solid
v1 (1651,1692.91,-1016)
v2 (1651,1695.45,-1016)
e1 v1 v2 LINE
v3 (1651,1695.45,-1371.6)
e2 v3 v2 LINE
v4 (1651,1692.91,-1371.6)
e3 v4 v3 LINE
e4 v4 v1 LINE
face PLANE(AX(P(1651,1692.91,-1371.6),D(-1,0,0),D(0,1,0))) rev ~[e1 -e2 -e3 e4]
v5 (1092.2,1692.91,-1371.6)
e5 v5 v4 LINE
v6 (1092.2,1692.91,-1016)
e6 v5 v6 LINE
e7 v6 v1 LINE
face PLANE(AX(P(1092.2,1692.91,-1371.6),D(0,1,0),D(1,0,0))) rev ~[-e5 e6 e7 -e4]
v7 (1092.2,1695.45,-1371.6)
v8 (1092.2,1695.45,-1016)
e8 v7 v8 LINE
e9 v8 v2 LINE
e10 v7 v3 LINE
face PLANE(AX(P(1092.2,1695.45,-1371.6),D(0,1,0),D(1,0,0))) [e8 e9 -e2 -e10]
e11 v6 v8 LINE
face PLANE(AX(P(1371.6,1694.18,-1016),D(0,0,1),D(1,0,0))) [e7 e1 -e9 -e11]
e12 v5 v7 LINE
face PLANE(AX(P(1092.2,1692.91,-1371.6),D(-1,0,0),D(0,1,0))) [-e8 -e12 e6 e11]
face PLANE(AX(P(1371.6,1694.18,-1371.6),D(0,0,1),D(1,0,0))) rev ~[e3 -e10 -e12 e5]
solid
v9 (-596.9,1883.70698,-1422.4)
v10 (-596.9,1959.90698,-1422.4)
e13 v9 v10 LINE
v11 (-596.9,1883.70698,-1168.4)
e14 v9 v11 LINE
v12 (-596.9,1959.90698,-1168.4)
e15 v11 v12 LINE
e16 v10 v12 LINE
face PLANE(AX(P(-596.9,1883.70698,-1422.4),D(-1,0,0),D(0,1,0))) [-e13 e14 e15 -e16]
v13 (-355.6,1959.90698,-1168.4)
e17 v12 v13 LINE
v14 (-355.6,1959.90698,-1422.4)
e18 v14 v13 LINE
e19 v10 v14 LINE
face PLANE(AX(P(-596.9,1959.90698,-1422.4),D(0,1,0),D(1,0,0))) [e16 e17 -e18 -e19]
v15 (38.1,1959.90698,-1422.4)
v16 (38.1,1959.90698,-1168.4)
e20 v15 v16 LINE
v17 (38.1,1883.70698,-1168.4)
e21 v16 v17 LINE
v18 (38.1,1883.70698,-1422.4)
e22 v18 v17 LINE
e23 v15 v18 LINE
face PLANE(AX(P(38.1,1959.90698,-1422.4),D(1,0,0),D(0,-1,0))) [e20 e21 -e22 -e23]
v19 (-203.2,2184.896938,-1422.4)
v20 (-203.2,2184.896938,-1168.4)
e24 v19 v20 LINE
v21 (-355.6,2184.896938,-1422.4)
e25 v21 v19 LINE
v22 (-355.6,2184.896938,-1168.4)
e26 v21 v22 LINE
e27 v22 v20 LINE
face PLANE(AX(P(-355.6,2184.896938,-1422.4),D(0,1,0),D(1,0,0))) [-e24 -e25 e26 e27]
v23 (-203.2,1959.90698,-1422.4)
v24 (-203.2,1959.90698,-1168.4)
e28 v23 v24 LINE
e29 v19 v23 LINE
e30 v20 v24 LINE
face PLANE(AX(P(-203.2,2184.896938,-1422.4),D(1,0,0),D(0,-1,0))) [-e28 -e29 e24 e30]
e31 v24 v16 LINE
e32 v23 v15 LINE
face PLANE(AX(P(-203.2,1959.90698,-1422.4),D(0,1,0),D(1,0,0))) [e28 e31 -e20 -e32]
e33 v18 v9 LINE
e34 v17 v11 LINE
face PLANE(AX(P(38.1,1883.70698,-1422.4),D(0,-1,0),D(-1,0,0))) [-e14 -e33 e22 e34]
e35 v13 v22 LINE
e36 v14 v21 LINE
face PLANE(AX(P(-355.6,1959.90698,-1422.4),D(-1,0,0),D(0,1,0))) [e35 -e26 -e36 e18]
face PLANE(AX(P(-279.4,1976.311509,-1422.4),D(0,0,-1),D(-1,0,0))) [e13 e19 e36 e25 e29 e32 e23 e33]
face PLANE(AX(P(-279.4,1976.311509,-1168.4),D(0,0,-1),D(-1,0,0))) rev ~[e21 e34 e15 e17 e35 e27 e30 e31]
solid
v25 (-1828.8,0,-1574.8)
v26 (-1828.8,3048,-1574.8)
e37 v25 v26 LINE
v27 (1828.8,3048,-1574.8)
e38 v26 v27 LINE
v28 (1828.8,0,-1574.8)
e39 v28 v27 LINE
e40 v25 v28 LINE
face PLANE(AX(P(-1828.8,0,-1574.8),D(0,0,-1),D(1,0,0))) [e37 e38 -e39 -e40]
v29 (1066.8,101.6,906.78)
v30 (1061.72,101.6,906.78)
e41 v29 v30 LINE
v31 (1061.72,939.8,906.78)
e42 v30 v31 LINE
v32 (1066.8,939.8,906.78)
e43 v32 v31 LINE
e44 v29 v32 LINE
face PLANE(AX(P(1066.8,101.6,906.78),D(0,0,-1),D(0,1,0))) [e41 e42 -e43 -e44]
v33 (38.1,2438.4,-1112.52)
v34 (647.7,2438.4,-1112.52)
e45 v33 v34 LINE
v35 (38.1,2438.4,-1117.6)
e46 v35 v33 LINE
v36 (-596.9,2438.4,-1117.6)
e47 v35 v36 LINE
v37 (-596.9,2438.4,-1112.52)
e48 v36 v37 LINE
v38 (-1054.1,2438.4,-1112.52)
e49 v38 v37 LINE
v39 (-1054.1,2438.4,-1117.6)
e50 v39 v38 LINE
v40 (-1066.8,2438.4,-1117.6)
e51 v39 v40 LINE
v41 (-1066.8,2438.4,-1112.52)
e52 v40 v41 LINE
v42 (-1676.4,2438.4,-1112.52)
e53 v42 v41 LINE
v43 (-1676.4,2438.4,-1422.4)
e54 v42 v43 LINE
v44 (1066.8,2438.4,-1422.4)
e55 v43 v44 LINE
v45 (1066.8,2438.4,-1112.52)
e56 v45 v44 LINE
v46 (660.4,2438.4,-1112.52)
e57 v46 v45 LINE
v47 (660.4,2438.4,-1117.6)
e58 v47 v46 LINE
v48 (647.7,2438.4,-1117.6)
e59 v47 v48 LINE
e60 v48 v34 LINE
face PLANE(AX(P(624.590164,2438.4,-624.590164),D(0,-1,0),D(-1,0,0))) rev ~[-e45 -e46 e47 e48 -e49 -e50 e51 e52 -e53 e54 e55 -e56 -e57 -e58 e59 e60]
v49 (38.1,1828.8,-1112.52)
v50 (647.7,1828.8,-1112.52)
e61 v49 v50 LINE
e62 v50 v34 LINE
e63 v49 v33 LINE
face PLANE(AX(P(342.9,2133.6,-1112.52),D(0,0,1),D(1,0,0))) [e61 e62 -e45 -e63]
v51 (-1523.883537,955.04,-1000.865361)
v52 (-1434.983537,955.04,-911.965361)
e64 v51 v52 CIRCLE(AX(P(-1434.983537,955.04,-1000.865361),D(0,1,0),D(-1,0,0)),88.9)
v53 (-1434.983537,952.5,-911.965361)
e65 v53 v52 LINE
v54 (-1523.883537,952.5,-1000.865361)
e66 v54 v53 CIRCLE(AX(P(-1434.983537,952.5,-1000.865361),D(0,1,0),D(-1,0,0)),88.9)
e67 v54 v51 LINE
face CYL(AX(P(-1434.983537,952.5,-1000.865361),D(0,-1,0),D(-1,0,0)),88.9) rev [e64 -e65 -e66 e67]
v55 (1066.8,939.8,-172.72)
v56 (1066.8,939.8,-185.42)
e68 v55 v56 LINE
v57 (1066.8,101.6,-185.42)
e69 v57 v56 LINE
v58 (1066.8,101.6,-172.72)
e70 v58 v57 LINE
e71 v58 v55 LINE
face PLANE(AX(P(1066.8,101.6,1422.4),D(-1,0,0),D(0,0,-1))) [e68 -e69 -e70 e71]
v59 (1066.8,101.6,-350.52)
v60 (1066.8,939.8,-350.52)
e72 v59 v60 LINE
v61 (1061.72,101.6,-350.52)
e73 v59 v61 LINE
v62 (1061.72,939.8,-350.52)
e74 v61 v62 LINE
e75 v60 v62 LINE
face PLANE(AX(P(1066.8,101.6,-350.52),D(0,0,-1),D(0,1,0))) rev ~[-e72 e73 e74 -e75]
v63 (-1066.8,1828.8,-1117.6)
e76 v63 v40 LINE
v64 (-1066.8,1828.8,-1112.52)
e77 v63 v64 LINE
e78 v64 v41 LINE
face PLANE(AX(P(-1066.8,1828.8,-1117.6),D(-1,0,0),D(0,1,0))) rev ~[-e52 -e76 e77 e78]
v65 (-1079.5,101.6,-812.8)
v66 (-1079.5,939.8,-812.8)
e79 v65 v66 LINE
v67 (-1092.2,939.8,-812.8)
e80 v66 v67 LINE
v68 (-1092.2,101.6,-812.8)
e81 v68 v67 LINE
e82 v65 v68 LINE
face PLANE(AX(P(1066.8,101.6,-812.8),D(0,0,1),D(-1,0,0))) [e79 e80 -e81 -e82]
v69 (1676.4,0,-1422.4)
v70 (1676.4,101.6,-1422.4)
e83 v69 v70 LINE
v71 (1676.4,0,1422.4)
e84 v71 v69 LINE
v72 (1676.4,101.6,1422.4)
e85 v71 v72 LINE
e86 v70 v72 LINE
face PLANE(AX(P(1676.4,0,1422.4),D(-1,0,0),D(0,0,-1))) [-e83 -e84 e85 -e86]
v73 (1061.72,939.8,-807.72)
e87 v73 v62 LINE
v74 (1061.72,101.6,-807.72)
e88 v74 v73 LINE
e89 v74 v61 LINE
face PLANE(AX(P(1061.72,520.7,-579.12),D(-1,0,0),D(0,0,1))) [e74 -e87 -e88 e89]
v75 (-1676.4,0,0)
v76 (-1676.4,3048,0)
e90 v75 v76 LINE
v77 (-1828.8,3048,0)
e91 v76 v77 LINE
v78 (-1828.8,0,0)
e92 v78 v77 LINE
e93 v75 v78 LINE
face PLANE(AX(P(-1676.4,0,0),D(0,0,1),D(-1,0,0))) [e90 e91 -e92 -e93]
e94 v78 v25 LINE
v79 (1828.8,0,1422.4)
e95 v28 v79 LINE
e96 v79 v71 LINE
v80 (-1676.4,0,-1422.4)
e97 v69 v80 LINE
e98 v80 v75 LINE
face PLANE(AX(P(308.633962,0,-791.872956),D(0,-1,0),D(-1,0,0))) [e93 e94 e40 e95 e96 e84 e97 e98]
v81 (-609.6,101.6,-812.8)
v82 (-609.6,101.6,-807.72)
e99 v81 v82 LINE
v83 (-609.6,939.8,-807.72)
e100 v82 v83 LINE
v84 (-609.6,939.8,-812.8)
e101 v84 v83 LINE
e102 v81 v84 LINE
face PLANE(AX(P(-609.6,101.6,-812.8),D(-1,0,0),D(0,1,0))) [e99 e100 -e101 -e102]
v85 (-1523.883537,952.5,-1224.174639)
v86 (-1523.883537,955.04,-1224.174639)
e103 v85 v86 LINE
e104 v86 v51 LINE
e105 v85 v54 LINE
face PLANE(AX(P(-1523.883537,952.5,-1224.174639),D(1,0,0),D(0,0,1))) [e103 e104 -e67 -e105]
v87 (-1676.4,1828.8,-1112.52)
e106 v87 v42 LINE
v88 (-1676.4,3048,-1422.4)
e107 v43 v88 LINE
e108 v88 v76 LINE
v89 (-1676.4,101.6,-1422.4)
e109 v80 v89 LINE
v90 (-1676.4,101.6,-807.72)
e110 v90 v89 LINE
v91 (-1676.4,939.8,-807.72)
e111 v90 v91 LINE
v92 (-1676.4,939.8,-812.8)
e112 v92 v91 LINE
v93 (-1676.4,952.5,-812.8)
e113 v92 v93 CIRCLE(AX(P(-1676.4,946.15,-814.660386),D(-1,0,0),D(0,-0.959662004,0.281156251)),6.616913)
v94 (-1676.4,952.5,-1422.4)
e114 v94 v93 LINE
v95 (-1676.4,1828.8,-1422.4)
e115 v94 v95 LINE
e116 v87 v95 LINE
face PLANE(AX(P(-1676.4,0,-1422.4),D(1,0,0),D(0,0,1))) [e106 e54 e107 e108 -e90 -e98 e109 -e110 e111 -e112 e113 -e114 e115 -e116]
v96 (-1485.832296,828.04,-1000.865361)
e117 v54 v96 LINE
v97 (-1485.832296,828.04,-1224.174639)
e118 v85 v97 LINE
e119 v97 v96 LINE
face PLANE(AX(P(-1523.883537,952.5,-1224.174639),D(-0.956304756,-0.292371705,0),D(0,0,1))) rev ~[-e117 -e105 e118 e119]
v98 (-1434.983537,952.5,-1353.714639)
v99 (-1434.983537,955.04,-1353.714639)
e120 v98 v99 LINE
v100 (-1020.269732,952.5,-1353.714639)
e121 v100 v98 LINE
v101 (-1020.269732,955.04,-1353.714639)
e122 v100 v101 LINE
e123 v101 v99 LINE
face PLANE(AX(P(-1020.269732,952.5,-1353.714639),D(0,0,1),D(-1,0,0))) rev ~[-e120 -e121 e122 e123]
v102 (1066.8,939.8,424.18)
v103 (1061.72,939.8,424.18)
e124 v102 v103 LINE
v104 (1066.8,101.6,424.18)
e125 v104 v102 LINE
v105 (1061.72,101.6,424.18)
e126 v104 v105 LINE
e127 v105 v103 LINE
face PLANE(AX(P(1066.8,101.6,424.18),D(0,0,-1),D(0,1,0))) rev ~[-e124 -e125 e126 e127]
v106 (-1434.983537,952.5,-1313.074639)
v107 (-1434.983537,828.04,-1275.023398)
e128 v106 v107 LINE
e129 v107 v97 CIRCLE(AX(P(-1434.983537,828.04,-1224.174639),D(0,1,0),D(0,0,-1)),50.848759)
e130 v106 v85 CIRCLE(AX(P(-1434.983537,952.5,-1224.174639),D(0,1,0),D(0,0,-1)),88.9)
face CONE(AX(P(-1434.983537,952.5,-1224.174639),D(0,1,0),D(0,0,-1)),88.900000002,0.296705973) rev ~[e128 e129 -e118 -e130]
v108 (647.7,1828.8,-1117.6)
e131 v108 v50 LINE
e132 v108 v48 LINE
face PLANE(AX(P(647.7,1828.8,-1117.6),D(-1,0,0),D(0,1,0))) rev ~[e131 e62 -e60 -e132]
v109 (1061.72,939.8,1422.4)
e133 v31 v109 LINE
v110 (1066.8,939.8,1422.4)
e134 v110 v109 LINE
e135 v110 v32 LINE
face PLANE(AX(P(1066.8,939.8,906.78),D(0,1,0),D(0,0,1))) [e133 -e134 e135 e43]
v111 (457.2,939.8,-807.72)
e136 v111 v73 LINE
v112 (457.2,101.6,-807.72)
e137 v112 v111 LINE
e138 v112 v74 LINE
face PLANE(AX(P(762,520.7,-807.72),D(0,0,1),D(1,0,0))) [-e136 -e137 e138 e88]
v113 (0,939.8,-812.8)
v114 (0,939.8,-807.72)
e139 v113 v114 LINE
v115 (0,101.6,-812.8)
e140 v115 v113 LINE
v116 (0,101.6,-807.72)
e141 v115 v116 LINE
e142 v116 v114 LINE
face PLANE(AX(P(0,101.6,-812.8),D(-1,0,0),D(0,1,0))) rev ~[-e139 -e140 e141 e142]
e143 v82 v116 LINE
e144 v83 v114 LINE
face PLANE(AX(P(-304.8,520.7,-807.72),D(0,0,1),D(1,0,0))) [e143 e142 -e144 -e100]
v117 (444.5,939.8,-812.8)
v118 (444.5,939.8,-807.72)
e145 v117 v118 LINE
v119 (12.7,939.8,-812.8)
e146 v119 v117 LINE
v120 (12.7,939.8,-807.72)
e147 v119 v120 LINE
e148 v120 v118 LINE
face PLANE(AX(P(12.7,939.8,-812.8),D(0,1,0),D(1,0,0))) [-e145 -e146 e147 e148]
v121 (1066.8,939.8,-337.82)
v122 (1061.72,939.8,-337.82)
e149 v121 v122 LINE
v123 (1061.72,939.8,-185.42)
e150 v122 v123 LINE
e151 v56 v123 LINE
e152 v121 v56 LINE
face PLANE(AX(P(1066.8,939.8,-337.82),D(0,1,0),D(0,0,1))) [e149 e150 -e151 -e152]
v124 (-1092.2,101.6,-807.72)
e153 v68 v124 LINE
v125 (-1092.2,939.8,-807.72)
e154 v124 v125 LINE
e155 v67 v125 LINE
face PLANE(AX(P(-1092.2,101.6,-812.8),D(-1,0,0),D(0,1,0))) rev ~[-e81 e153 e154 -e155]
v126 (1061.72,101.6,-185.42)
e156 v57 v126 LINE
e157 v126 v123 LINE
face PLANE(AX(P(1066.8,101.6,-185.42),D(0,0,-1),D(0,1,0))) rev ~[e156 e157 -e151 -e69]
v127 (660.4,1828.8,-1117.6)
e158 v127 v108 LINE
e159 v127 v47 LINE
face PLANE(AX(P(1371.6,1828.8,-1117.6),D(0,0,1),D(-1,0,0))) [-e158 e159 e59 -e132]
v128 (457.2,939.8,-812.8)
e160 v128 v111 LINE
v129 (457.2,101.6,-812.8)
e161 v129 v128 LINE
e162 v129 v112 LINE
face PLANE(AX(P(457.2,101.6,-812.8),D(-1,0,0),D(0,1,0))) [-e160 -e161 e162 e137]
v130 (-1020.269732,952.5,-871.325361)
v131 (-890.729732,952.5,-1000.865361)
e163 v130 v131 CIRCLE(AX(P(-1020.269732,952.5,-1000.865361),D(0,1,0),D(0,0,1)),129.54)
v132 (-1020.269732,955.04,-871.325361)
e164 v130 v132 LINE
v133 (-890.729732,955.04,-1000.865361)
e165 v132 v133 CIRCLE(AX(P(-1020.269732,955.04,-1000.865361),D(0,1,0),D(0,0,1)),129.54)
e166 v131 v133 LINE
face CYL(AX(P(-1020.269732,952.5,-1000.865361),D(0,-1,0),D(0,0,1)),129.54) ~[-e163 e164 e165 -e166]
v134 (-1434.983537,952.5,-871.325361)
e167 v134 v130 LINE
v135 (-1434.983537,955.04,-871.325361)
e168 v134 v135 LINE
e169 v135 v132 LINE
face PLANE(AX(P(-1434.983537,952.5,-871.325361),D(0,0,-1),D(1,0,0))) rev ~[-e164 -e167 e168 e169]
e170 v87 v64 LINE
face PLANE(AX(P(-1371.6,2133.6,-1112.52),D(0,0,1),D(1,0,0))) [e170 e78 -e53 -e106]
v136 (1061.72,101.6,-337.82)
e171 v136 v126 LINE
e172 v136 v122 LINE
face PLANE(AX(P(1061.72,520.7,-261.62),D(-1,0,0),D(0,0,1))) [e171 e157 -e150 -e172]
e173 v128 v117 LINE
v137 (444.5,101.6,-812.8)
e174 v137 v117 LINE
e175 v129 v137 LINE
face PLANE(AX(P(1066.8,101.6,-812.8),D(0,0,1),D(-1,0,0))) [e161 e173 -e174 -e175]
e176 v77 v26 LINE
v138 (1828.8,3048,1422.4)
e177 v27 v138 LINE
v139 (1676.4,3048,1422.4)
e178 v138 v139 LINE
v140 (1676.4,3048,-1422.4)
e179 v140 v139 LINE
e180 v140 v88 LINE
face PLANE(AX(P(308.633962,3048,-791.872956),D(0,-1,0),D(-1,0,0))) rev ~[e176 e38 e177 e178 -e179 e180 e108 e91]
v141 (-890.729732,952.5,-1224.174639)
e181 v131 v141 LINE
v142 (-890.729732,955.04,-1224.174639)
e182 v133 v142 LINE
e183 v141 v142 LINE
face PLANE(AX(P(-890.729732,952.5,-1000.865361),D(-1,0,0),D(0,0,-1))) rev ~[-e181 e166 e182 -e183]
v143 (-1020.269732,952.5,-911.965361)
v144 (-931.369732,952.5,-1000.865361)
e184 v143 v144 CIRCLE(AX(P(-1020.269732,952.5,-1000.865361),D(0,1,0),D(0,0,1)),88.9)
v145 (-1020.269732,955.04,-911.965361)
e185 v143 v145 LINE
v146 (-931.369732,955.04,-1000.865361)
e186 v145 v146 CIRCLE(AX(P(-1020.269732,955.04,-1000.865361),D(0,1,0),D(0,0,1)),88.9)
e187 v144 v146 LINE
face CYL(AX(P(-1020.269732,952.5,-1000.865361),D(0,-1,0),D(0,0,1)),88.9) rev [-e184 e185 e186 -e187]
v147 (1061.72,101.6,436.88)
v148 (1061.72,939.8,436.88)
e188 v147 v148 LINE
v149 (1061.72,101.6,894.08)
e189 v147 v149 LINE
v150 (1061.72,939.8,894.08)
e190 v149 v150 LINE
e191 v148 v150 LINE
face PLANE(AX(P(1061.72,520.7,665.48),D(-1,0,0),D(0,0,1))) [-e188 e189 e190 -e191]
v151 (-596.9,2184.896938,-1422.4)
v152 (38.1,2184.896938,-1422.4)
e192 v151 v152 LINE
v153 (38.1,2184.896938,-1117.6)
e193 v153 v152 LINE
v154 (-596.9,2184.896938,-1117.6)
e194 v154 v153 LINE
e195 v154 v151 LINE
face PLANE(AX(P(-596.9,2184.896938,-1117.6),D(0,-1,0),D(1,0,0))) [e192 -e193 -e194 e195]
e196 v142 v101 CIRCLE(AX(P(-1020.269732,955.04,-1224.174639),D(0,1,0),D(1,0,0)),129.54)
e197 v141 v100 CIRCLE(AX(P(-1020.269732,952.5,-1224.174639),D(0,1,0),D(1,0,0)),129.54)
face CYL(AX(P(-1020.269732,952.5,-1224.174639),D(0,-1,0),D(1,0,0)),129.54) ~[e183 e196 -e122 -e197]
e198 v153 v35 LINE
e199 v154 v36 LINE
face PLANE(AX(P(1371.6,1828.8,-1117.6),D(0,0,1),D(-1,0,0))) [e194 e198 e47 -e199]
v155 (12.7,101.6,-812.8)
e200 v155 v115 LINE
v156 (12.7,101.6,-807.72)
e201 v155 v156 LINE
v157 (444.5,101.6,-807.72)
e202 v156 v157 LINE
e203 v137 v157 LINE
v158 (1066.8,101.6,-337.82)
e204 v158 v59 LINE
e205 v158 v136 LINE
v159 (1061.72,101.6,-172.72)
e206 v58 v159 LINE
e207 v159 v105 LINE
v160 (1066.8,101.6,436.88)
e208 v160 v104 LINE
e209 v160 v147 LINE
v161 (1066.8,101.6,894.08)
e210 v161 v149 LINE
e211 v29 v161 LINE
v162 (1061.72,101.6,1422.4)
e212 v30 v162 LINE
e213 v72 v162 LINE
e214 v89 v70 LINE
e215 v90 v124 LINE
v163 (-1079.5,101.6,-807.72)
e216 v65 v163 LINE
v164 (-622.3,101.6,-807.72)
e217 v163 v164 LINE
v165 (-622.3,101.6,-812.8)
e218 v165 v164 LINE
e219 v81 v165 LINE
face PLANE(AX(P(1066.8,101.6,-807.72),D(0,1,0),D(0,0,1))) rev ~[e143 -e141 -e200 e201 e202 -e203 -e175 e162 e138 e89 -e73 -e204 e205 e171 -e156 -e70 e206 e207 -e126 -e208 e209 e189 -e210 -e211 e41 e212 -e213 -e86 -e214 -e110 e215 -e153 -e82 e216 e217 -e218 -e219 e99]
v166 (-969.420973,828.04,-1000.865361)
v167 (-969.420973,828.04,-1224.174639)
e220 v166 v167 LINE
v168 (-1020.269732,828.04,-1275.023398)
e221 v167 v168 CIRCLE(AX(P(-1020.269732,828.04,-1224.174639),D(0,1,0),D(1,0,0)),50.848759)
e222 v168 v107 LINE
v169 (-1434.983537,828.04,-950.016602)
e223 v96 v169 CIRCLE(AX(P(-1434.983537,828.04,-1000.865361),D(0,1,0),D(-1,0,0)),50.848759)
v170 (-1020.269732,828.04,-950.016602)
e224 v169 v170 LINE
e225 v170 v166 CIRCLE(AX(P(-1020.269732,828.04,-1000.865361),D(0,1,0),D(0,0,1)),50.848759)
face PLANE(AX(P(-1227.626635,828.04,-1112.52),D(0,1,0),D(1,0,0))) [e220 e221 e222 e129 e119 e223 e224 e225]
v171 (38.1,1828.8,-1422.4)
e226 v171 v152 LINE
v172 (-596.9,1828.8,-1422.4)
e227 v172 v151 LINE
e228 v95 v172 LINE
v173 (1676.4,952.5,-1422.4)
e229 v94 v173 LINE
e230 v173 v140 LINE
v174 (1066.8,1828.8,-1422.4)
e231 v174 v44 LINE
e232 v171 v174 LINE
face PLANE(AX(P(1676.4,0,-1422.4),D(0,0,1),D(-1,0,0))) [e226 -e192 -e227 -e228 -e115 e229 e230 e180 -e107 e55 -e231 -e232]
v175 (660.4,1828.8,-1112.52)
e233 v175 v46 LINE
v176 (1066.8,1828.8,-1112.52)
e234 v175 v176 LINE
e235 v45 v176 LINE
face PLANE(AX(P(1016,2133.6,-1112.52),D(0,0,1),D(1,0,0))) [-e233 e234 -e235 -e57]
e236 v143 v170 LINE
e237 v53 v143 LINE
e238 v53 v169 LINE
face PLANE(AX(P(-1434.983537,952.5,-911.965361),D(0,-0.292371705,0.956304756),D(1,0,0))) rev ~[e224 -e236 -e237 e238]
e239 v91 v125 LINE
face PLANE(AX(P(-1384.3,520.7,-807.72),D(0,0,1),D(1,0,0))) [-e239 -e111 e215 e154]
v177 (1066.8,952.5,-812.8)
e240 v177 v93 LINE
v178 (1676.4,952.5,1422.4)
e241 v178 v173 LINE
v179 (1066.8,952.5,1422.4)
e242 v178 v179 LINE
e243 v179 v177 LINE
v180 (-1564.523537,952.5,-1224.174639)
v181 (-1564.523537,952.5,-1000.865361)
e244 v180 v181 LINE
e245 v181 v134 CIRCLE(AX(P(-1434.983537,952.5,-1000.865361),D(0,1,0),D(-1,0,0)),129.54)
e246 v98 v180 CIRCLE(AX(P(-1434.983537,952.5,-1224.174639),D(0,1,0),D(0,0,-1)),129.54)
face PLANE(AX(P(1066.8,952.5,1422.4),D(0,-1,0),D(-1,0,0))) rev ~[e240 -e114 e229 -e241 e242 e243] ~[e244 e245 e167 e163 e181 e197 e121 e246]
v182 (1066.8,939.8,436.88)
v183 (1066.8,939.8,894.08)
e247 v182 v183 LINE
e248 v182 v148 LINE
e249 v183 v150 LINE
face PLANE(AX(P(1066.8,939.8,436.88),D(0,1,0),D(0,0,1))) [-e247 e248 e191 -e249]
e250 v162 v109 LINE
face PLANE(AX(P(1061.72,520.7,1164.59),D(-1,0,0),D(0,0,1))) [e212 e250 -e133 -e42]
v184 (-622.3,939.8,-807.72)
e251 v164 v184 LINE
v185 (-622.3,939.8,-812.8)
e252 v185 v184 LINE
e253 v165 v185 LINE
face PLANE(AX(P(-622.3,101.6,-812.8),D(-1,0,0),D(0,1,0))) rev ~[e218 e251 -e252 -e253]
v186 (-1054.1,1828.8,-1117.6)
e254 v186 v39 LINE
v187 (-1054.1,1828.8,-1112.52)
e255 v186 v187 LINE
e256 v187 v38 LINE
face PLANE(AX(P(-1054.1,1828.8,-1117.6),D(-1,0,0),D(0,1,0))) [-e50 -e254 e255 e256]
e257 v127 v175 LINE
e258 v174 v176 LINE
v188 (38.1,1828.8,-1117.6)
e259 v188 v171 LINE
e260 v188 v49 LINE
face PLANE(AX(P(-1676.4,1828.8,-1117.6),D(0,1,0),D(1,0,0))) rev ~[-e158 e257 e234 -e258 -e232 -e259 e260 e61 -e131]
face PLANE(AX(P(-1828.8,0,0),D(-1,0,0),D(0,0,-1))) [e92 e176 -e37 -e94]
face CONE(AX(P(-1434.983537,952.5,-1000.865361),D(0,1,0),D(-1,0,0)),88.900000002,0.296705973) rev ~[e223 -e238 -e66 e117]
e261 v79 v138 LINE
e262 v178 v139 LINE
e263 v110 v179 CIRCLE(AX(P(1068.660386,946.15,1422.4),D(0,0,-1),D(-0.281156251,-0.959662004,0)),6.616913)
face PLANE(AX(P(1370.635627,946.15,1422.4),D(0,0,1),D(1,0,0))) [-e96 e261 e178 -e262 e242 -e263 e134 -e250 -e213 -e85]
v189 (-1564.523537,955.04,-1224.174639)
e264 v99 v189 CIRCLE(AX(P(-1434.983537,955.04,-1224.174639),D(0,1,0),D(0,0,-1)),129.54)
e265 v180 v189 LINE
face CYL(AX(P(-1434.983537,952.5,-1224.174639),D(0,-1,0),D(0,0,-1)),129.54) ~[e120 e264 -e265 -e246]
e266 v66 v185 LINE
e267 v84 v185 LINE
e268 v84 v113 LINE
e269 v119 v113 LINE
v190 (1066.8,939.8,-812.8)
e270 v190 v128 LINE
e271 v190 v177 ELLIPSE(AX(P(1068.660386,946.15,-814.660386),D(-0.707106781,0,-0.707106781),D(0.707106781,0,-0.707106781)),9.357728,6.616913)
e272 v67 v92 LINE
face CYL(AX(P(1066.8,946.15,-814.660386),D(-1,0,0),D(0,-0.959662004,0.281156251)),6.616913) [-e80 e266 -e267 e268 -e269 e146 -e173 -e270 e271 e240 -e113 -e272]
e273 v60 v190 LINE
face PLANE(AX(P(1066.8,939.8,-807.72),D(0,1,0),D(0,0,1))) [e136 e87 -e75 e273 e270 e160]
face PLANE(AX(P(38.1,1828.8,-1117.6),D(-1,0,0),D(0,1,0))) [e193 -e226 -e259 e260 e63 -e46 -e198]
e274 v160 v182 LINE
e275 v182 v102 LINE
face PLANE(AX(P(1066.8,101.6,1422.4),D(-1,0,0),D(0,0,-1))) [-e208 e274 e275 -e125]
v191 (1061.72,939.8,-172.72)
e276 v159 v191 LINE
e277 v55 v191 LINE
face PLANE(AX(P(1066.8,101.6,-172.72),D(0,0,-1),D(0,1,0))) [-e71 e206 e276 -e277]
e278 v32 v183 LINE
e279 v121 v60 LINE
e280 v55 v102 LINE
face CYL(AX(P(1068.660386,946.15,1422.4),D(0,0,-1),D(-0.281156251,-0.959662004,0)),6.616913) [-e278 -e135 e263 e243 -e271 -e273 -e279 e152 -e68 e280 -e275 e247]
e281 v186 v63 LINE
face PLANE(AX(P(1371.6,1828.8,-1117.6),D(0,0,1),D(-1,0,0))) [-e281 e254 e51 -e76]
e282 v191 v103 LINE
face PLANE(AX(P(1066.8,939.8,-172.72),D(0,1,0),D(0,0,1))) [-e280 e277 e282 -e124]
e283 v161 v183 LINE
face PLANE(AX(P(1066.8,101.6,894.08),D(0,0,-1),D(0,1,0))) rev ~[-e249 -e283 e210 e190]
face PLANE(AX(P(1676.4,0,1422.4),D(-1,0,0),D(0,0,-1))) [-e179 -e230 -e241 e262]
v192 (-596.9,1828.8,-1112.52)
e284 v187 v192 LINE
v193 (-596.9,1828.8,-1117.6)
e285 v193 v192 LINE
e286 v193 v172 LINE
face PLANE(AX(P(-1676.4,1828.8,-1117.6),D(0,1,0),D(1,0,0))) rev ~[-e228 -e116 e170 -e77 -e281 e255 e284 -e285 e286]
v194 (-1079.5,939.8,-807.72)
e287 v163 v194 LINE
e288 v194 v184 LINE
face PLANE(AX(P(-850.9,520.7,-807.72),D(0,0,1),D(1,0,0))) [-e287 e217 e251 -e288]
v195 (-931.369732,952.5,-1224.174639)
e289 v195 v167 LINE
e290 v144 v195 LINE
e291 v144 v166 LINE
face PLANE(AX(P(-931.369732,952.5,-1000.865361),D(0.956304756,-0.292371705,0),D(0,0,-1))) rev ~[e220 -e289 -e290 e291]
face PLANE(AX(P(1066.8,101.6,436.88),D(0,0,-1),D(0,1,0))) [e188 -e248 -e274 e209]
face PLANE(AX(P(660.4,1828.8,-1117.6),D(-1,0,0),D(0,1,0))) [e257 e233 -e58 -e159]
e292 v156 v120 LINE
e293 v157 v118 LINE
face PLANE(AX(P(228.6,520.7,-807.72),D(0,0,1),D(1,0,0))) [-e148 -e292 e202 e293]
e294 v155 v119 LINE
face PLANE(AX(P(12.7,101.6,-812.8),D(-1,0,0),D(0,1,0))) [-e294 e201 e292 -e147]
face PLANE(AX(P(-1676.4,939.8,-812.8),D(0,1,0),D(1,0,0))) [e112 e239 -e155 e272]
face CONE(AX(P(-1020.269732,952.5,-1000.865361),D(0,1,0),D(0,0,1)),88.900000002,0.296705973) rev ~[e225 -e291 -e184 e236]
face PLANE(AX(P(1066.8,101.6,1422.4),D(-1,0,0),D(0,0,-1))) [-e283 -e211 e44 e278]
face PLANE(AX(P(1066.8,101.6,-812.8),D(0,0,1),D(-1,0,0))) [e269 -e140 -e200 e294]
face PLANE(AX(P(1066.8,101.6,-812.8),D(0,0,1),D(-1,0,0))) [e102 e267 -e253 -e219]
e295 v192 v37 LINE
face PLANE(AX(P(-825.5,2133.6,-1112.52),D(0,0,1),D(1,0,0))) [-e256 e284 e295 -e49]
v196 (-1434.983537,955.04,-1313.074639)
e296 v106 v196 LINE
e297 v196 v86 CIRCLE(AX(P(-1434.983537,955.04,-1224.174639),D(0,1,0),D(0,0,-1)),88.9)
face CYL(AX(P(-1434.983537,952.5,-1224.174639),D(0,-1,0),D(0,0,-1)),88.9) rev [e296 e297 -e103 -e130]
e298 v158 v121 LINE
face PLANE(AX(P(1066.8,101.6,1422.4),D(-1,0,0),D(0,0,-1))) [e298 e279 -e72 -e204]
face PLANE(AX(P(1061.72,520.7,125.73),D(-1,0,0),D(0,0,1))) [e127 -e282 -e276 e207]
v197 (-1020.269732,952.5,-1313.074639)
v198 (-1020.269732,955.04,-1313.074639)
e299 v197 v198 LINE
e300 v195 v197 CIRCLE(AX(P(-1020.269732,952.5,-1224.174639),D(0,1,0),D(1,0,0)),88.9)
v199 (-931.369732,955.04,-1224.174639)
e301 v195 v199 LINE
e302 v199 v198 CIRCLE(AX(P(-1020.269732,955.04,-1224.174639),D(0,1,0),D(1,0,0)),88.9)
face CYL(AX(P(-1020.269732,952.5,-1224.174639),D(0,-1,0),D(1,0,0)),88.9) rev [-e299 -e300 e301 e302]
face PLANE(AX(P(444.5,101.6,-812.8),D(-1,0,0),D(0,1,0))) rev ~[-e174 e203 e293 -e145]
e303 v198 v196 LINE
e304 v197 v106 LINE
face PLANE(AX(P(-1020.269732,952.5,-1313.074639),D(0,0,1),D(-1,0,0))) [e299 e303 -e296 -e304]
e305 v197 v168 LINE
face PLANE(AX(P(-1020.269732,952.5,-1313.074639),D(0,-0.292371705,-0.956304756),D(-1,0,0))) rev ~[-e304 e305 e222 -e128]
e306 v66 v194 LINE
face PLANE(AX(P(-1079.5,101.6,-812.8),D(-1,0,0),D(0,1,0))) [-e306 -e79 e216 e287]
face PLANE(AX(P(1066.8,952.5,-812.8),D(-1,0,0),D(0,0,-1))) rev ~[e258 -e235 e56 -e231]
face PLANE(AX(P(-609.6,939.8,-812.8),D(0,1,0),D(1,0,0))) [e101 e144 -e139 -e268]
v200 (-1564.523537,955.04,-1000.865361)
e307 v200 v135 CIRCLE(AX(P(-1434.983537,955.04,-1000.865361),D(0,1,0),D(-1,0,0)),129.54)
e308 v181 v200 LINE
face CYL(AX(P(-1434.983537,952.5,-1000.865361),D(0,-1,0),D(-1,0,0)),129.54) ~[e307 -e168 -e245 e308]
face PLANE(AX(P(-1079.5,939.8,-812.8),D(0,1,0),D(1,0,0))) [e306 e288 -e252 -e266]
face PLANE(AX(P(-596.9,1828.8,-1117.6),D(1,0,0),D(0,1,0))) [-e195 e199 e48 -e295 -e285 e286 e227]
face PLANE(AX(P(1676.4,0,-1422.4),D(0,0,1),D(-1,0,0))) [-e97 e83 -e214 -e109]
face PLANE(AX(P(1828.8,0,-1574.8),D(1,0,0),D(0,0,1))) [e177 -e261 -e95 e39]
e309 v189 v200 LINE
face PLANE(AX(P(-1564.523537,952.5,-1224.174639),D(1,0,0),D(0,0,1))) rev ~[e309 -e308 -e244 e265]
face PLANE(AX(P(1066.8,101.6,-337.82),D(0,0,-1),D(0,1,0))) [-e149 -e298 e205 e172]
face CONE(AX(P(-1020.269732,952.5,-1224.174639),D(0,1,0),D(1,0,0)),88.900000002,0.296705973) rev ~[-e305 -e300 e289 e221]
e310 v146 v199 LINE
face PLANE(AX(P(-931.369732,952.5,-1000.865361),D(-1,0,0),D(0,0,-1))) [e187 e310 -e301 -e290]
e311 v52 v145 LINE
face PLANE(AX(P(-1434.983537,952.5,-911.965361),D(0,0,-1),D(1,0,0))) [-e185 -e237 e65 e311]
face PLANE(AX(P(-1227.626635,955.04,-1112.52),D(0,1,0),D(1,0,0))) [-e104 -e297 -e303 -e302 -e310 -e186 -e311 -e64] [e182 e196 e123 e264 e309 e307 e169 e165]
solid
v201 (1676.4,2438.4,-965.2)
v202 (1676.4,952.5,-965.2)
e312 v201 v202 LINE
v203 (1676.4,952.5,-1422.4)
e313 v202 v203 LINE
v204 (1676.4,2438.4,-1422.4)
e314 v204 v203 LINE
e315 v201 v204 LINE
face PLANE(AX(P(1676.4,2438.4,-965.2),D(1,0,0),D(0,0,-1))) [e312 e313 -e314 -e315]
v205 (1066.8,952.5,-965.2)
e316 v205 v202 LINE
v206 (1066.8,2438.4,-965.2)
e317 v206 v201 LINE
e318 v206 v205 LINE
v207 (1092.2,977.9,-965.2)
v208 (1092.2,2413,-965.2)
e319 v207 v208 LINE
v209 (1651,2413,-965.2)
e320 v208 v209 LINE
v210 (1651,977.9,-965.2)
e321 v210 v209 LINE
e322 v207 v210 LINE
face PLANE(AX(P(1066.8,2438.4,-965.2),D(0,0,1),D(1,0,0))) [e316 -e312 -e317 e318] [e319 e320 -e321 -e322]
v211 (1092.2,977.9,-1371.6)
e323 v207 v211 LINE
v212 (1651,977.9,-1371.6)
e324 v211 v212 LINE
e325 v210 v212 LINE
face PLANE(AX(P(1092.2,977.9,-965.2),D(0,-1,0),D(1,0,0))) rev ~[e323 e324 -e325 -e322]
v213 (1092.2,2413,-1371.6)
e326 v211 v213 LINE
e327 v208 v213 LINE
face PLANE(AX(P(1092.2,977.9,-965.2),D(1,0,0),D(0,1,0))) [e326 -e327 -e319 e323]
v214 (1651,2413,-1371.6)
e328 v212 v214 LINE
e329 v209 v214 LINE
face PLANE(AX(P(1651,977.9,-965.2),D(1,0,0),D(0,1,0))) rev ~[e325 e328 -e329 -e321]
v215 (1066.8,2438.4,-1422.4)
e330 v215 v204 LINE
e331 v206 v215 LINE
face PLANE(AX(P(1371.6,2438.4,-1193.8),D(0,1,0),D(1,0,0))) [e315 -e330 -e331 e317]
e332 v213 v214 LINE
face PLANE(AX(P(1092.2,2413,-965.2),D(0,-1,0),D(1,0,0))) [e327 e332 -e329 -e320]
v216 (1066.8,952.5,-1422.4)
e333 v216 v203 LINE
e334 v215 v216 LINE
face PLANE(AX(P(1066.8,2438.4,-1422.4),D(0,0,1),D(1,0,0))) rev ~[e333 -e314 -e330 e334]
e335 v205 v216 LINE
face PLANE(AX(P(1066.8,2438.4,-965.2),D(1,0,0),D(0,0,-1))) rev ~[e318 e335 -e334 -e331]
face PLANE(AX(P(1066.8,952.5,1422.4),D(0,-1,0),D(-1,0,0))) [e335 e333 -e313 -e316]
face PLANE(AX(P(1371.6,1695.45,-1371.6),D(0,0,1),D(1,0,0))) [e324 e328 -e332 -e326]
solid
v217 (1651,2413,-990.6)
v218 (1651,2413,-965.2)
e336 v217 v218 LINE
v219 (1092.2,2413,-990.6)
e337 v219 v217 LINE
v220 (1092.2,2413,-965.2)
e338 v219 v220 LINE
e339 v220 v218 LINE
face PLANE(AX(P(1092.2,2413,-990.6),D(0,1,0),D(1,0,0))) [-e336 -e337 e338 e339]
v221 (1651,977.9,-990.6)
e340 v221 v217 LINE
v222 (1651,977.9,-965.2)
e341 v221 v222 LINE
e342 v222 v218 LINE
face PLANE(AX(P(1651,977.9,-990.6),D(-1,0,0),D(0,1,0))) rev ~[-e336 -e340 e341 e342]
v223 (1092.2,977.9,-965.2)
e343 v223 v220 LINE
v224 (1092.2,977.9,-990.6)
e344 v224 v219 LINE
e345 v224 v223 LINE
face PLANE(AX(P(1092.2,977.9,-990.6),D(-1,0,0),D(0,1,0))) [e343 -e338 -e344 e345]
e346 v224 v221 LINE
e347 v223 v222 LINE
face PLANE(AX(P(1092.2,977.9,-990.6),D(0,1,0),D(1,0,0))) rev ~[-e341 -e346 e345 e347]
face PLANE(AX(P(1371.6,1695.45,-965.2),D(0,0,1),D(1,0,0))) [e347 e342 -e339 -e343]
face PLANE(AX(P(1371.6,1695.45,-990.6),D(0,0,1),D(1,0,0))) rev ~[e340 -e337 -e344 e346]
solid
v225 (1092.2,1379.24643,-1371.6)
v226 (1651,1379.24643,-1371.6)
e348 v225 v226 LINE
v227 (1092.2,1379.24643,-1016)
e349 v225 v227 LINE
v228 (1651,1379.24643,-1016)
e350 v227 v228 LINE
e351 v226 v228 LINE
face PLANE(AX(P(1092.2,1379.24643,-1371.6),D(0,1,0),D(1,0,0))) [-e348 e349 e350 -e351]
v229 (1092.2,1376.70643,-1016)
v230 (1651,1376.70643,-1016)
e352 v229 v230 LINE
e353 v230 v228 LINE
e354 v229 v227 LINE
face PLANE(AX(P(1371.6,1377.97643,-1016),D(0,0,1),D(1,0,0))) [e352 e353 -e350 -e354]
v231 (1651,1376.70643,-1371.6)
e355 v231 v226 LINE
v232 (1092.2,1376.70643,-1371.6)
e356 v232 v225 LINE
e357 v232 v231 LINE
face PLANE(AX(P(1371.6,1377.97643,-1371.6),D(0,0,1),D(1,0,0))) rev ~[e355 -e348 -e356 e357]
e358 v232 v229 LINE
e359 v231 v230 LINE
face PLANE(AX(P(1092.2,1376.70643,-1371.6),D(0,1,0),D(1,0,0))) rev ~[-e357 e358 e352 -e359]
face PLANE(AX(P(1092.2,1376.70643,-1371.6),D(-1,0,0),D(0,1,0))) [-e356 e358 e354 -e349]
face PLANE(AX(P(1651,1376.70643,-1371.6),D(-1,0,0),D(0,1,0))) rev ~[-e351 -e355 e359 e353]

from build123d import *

# Parameters (mm, degrees)
BOSS_EXTRUDE1_DEPTH   = 3048
BOSS_EXTRUDE2_START   = 101.6
BOSS_EXTRUDE2_DEPTH   = 838.2
SKETCH5_W             = 584.2
SKETCH5_H             = 838.2
SKETCH5_W_2           = 457.2
SKETCH5_W_3           = 609.6
SKETCH5_W_4           = 431.8
BOSS_EXTRUDE3_DEPTH   = 5.08
SKETCH10_W            = 457.2
SKETCH10_H            = 838.2
SKETCH10_W_2          = 152.4
SKETCH10_W_3          = 596.9
SKETCH10_W_4          = 515.62
BOSS_EXTRUDE4_DEPTH   = 5.08
BOSS_EXTRUDE5_START   = 1828.8
BOSS_EXTRUDE5_DEPTH   = 609.6
SKETCH12_W            = 609.6
SKETCH12_H            = 609.6
SKETCH12_W_2          = 457.2
SKETCH12_W_3          = 711.2
BOSS_EXTRUDE6_DEPTH   = 5.08
SKETCH13_W            = 635
SKETCH13_H            = 356.096937619
CUT_EXTRUDE2_DEPTH    = 304.8
BOSS_EXTRUDE7_DEPTH   = 254
SKETCH15_W            = 304.8
SKETCH15_H            = 609.6
CUT_EXTRUDE3_DEPTH    = 2844.8
SKETCH16_W            = 609.6
SKETCH16_H            = 609.6
CUT_EXTRUDE4_DEPTH    = 2844.8
BOSS_EXTRUDE8_REACH   = 3432.787
SKETCH17_W            = 609.6
SKETCH17_H            = 457.2
SKETCH18_W            = 558.8
SKETCH18_H            = 1435.1
CUT_EXTRUDE5_DEPTH    = 406.4
SKETCH19_W            = 558.8
SKETCH19_H            = 2.54
EXTRUDE_THIN1_DEPTH   = 355.6
EXTRUDE_THIN1_2_DEPTH = 355.6
BOSS_EXTRUDE9_START   = 25.4
SKETCH20_W            = 558.8
SKETCH20_H            = 1435.1
BOSS_EXTRUDE9_DEPTH   = 25.4
CUT_EXTRUDE6_DEPTH    = 124.46
CUT_EXTRUDE6_DRAFT    = -17
BOSS_EXTRUDE10_DEPTH  = 2.54


with BuildPart() as part:
    # Sketch1 → Boss-Extrude1 (new body)
    with BuildSketch(Plane(origin=(0, 0, 0), x_dir=(1, 0, 0), z_dir=(0, 1, 0))):
        Polygon((-1828.8, 0), (-1828.8, 1574.8), (1828.8, 1574.8), (1828.8, -1422.4), (1676.4, -1422.4), (1676.4, 1422.4), (-1676.4, 1422.4), (-1676.4, 0), align=None)
    extrude(amount=BOSS_EXTRUDE1_DEPTH)



with BuildPart() as body_2:
    # Sketch2 → Boss-Extrude2 (new body)
    with BuildSketch(Plane(origin=(0, 0, 0), x_dir=(1, 0, 0), z_dir=(0, 1, 0)).offset(BOSS_EXTRUDE2_START)):
        Polygon((1676.4, 1422.4), (1676.4, -1422.4), (1066.8, -1422.4), (1066.8, 812.8), (-1676.4, 812.8), (-1676.4, 1422.4), align=None)
    extrude(amount=BOSS_EXTRUDE2_DEPTH)


with BuildPart() as part_1:
    add(part.part)

    add(body_2.part)  # Sweep2 merges body 2
    # Sweep2: sweep along a path in Sketch3
    with BuildLine(Plane(origin=(0, 939.8, 0), x_dir=(1, 0, 0), z_dir=(0, 1, 0))) as sweep2_path:
        Line((1066.8, -1422.4), (1066.8, 812.8))
        Line((1066.8, 812.8), (-1676.4, 812.8))
    # Sketch4 → Sweep2 (sweep)
    with BuildSketch(Plane.XY.offset(1422.4)):
        with BuildLine():
            Line((1676.4, 939.8), (1066.8, 939.8))
            ThreePointArc((1066.8, 939.8), (1062.043473448, 946.15), (1066.8, 952.5))
            Line((1066.8, 952.5), (1676.4, 952.5))
            Line((1676.4, 952.5), (1676.4, 939.8))
        make_face()
    sweep(path=sweep2_path.line, transition=Transition.RIGHT)

    # Sketch5 → Boss-Extrude3 (add)
    with BuildSketch(Plane.XY.offset(-812.8)):
        with Locations((-1384.3, 520.7)):
            Rectangle(SKETCH5_W, SKETCH5_H)
        with Locations((-850.9, 520.7)):
            Rectangle(SKETCH5_W_2, SKETCH5_H)
        with Locations((-304.8, 520.7)):
            Rectangle(SKETCH5_W_3, SKETCH5_H)
        with Locations((762, 520.7)):
            Rectangle(SKETCH5_W_3, SKETCH5_H)
        with Locations((228.6, 520.7)):
            Rectangle(SKETCH5_W_4, SKETCH5_H)
    extrude(amount=BOSS_EXTRUDE3_DEPTH)

    # Sketch10 → Boss-Extrude4 (add)
    with BuildSketch(Plane.ZY.offset(-1066.8)):
        with Locations((-579.12, 520.7)):
            Rectangle(SKETCH10_W, SKETCH10_H)
        with Locations((-261.62, 520.7)):
            Rectangle(SKETCH10_W_2, SKETCH10_H)
        with Locations((125.73, 520.7)):
            Rectangle(SKETCH10_W_3, SKETCH10_H)
        with Locations((1164.59, 520.7)):
            Rectangle(SKETCH10_W_4, SKETCH10_H)
        with Locations((665.48, 520.7)):
            Rectangle(SKETCH10_W, SKETCH10_H)
    extrude(amount=BOSS_EXTRUDE4_DEPTH)

    # Sketch11 → Boss-Extrude5 (add)
    with BuildSketch(Plane(origin=(0, 0, 0), x_dir=(1, 0, 0), z_dir=(0, 1, 0)).offset(BOSS_EXTRUDE5_START)):
        Polygon((1676.4, 1422.4), (1676.4, -1422.4), (1371.6, -1422.4), (1371.6, 1117.6), (-1676.4, 1117.6), (-1676.4, 1422.4), align=None)
    extrude(amount=BOSS_EXTRUDE5_DEPTH)

    # Sketch12 → Boss-Extrude6 (add)
    with BuildSketch(Plane.XY.offset(-1117.6)):
        with Locations((-1371.6, 2133.6)):
            Rectangle(SKETCH12_W, SKETCH12_H)
        with Locations((-825.5, 2133.6)):
            Rectangle(SKETCH12_W_2, SKETCH12_H)
        with Locations((342.9, 2133.6)):
            Rectangle(SKETCH12_W, SKETCH12_H)
        with Locations((1016, 2133.6)):
            Rectangle(SKETCH12_W_3, SKETCH12_H)
    extrude(amount=BOSS_EXTRUDE6_DEPTH)

    # Sketch13 → Cut-Extrude2 (cut)
    with BuildSketch(Plane.XY.offset(-1117.6)):
        with Locations((-279.4, 2006.84846881)):
            Rectangle(SKETCH13_W, SKETCH13_H)
    extrude(amount=-CUT_EXTRUDE2_DEPTH, mode=Mode.SUBTRACT)

    # Sketch15 → Cut-Extrude3 (cut)
    with BuildSketch(Plane.XY.offset(1422.4)):
        with Locations((1524, 2133.6)):
            Rectangle(SKETCH15_W, SKETCH15_H)
    extrude(amount=-CUT_EXTRUDE3_DEPTH, mode=Mode.SUBTRACT)

    # Sketch16 → Cut-Extrude4 (cut)
    with BuildSketch(Plane(origin=(0, 952.5, 0), x_dir=(1, 0, 0), z_dir=(0, 1, 0))):
        with Locations((1371.6, 1117.6)):
            Rectangle(SKETCH16_W, SKETCH16_H)
    extrude(amount=CUT_EXTRUDE4_DEPTH, mode=Mode.SUBTRACT)


with BuildPart() as body_2_2:
    # Sketch14 → Boss-Extrude7 (new body)
    with BuildSketch(Plane.XY.offset(-1422.4)):
        Polygon((-355.6, 2184.896937619), (-203.2, 2184.896937619), (-203.2, 1959.906980292), (38.1, 1959.906980292), (38.1, 1883.706980292), (-596.9, 1883.706980292), (-596.9, 1959.906980292), (-355.6, 1959.906980292), align=None)
    extrude(amount=BOSS_EXTRUDE7_DEPTH)


with BuildPart() as body_3:

    # Sketch17 → Boss-Extrude8 (new, up to next)
    with BuildSketch(Plane(origin=(0, 2438.4, 0), x_dir=(1, 0, 0), z_dir=(0, 1, 0)), mode=Mode.PRIVATE) as boss_extrude8_sk1:
        with Locations((1371.6, 1193.8)):
            Rectangle(SKETCH17_W, SKETCH17_H)
    boss_extrude8_tool1 = extrude(boss_extrude8_sk1.sketch, amount=-BOSS_EXTRUDE8_REACH, mode=Mode.PRIVATE) - part_1.part
    add(boss_extrude8_tool1.solids().sort_by_distance((1371.6, 2438.4, -1193.8))[0])

    # Sketch18 → Cut-Extrude5 (cut)
    with BuildSketch(Plane.XY.offset(-965.2)):
        with Locations((1371.6, 1695.45)):
            Rectangle(SKETCH18_W, SKETCH18_H)
    extrude(amount=-CUT_EXTRUDE5_DEPTH, mode=Mode.SUBTRACT)


with BuildPart() as body_4:
    # Sketch19 → Extrude-Thin1 (new body)
    with BuildSketch(Plane.XY.offset(-1371.6)):
        with Locations((1371.6, 1694.18)):
            Rectangle(SKETCH19_W, SKETCH19_H)
    extrude(amount=EXTRUDE_THIN1_DEPTH)


with BuildPart() as body_5:
    # Sketch19 → Extrude-Thin1 2 (new body)
    with BuildSketch(Plane.XY.offset(-1371.6)):
        with Locations((1371.6, 1377.976430218)):
            Rectangle(SKETCH19_W, SKETCH19_H)
    extrude(amount=EXTRUDE_THIN1_2_DEPTH)


with BuildPart() as body_6:
    # Sketch20 → Boss-Extrude9 (new body)
    with BuildSketch(Plane.XY.offset(-1016).offset(BOSS_EXTRUDE9_START)):
        with Locations((1371.6, 1695.45)):
            Rectangle(SKETCH20_W, SKETCH20_H)
    extrude(amount=BOSS_EXTRUDE9_DEPTH)


with BuildPart() as cut_extrude6_tool:
    # Sketch21 → Cut-Extrude6 (with draft: the straight prism first)
    with BuildSketch(Plane(origin=(0, 952.5, 0), x_dir=(1, 0, 0), z_dir=(0, 1, 0))):
        with BuildLine():
            Line((-1434.983537016, 911.965361051), (-1020.269732089, 911.965361051))
            ThreePointArc((-1020.269732089, 911.965361051), (-957.407939242, 938.003568204), (-931.369732089, 1000.865361051))
            Line((-931.369732089, 1000.865361051), (-931.369732089, 1224.174638949))
            ThreePointArc((-931.369732089, 1224.174638949), (-957.407939242, 1287.036431796), (-1020.269732089, 1313.074638949))
            Line((-1020.269732089, 1313.074638949), (-1434.983537016, 1313.074638949))
            ThreePointArc((-1434.983537016, 1313.074638949), (-1497.845329863, 1287.036431796), (-1523.883537016, 1224.174638949))
            Line((-1523.883537016, 1224.174638949), (-1523.883537016, 1000.865361051))
            ThreePointArc((-1523.883537016, 1000.865361051), (-1497.845329863, 938.003568204), (-1434.983537016, 911.965361051))
        make_face()
    extrude(amount=-CUT_EXTRUDE6_DEPTH)
    # Cut-Extrude6: the draft: its side faces are tilted about the plane it starts from
    cut_extrude6_sides = [cut_extrude6_tool.faces().sort_by_distance(p)[0] for p in [
        (-1497.845329863, 890.27, -938.003568204),
        (-1227.626634553, 890.27, -911.965361051),
        (-957.407939242, 890.27, -938.003568204),
        (-931.369732089, 890.27, -1112.52),
        (-957.407939242, 890.27, -1287.036431796),
        (-1227.626634553, 890.27, -1313.074638949),
        (-1497.845329863, 890.27, -1287.036431796),
        (-1523.883537016, 890.27, -1112.52),
    ]]
    draft(cut_extrude6_sides, Plane(origin=(0, 952.5, 0), x_dir=(1, 0, 0), z_dir=(0, 1, 0)), CUT_EXTRUDE6_DRAFT)


with BuildPart() as part_2:
    add(part_1.part)

    # Cut-Extrude6: cut by cut_extrude6_tool
    add(cut_extrude6_tool.part, mode=Mode.SUBTRACT)

    # Sketch22 → Boss-Extrude10 (add)
    with BuildSketch(Plane(origin=(0, 952.5, 0), x_dir=(1, 0, 0), z_dir=(0, 1, 0))):
        with BuildLine():
            Line((-1434.983537016, 871.325361051), (-1020.269732089, 871.325361051))
            ThreePointArc((-1020.269732089, 871.325361051), (-928.671119655, 909.266748616), (-890.729732089, 1000.865361051))
            Line((-890.729732089, 1000.865361051), (-890.729732089, 1224.174638949))
            ThreePointArc((-890.729732089, 1224.174638949), (-928.671119655, 1315.773251384), (-1020.269732089, 1353.714638949))
            Line((-1020.269732089, 1353.714638949), (-1434.983537016, 1353.714638949))
            ThreePointArc((-1434.983537016, 1353.714638949), (-1526.582149451, 1315.773251384), (-1564.523537016, 1224.174638949))
            Line((-1564.523537016, 1224.174638949), (-1564.523537016, 1000.865361051))
            ThreePointArc((-1564.523537016, 1000.865361051), (-1526.582149451, 909.266748616), (-1434.983537016, 871.325361051))
        make_face()
        with BuildLine():
            Line((-931.369732089, 1000.865361051), (-931.369732089, 1224.174638949))
            ThreePointArc((-931.369732089, 1224.174638949), (-957.407939242, 1287.036431796), (-1020.269732089, 1313.074638949))
            Line((-1020.269732089, 1313.074638949), (-1434.983537016, 1313.074638949))
            ThreePointArc((-1434.983537016, 1313.074638949), (-1497.845329863, 1287.036431796), (-1523.883537016, 1224.174638949))
            Line((-1523.883537016, 1224.174638949), (-1523.883537016, 1000.865361051))
            ThreePointArc((-1523.883537016, 1000.865361051), (-1497.845329863, 938.003568204), (-1434.983537016, 911.965361051))
            Line((-1434.983537016, 911.965361051), (-1020.269732089, 911.965361051))
            ThreePointArc((-1020.269732089, 911.965361051), (-957.407939242, 938.003568204), (-931.369732089, 1000.865361051))
        make_face(mode=Mode.SUBTRACT)
    extrude(amount=BOSS_EXTRUDE10_DEPTH)


solid = Compound([body_2_2.part, body_3.part, body_4.part, body_5.part, body_6.part, part_2.part])
